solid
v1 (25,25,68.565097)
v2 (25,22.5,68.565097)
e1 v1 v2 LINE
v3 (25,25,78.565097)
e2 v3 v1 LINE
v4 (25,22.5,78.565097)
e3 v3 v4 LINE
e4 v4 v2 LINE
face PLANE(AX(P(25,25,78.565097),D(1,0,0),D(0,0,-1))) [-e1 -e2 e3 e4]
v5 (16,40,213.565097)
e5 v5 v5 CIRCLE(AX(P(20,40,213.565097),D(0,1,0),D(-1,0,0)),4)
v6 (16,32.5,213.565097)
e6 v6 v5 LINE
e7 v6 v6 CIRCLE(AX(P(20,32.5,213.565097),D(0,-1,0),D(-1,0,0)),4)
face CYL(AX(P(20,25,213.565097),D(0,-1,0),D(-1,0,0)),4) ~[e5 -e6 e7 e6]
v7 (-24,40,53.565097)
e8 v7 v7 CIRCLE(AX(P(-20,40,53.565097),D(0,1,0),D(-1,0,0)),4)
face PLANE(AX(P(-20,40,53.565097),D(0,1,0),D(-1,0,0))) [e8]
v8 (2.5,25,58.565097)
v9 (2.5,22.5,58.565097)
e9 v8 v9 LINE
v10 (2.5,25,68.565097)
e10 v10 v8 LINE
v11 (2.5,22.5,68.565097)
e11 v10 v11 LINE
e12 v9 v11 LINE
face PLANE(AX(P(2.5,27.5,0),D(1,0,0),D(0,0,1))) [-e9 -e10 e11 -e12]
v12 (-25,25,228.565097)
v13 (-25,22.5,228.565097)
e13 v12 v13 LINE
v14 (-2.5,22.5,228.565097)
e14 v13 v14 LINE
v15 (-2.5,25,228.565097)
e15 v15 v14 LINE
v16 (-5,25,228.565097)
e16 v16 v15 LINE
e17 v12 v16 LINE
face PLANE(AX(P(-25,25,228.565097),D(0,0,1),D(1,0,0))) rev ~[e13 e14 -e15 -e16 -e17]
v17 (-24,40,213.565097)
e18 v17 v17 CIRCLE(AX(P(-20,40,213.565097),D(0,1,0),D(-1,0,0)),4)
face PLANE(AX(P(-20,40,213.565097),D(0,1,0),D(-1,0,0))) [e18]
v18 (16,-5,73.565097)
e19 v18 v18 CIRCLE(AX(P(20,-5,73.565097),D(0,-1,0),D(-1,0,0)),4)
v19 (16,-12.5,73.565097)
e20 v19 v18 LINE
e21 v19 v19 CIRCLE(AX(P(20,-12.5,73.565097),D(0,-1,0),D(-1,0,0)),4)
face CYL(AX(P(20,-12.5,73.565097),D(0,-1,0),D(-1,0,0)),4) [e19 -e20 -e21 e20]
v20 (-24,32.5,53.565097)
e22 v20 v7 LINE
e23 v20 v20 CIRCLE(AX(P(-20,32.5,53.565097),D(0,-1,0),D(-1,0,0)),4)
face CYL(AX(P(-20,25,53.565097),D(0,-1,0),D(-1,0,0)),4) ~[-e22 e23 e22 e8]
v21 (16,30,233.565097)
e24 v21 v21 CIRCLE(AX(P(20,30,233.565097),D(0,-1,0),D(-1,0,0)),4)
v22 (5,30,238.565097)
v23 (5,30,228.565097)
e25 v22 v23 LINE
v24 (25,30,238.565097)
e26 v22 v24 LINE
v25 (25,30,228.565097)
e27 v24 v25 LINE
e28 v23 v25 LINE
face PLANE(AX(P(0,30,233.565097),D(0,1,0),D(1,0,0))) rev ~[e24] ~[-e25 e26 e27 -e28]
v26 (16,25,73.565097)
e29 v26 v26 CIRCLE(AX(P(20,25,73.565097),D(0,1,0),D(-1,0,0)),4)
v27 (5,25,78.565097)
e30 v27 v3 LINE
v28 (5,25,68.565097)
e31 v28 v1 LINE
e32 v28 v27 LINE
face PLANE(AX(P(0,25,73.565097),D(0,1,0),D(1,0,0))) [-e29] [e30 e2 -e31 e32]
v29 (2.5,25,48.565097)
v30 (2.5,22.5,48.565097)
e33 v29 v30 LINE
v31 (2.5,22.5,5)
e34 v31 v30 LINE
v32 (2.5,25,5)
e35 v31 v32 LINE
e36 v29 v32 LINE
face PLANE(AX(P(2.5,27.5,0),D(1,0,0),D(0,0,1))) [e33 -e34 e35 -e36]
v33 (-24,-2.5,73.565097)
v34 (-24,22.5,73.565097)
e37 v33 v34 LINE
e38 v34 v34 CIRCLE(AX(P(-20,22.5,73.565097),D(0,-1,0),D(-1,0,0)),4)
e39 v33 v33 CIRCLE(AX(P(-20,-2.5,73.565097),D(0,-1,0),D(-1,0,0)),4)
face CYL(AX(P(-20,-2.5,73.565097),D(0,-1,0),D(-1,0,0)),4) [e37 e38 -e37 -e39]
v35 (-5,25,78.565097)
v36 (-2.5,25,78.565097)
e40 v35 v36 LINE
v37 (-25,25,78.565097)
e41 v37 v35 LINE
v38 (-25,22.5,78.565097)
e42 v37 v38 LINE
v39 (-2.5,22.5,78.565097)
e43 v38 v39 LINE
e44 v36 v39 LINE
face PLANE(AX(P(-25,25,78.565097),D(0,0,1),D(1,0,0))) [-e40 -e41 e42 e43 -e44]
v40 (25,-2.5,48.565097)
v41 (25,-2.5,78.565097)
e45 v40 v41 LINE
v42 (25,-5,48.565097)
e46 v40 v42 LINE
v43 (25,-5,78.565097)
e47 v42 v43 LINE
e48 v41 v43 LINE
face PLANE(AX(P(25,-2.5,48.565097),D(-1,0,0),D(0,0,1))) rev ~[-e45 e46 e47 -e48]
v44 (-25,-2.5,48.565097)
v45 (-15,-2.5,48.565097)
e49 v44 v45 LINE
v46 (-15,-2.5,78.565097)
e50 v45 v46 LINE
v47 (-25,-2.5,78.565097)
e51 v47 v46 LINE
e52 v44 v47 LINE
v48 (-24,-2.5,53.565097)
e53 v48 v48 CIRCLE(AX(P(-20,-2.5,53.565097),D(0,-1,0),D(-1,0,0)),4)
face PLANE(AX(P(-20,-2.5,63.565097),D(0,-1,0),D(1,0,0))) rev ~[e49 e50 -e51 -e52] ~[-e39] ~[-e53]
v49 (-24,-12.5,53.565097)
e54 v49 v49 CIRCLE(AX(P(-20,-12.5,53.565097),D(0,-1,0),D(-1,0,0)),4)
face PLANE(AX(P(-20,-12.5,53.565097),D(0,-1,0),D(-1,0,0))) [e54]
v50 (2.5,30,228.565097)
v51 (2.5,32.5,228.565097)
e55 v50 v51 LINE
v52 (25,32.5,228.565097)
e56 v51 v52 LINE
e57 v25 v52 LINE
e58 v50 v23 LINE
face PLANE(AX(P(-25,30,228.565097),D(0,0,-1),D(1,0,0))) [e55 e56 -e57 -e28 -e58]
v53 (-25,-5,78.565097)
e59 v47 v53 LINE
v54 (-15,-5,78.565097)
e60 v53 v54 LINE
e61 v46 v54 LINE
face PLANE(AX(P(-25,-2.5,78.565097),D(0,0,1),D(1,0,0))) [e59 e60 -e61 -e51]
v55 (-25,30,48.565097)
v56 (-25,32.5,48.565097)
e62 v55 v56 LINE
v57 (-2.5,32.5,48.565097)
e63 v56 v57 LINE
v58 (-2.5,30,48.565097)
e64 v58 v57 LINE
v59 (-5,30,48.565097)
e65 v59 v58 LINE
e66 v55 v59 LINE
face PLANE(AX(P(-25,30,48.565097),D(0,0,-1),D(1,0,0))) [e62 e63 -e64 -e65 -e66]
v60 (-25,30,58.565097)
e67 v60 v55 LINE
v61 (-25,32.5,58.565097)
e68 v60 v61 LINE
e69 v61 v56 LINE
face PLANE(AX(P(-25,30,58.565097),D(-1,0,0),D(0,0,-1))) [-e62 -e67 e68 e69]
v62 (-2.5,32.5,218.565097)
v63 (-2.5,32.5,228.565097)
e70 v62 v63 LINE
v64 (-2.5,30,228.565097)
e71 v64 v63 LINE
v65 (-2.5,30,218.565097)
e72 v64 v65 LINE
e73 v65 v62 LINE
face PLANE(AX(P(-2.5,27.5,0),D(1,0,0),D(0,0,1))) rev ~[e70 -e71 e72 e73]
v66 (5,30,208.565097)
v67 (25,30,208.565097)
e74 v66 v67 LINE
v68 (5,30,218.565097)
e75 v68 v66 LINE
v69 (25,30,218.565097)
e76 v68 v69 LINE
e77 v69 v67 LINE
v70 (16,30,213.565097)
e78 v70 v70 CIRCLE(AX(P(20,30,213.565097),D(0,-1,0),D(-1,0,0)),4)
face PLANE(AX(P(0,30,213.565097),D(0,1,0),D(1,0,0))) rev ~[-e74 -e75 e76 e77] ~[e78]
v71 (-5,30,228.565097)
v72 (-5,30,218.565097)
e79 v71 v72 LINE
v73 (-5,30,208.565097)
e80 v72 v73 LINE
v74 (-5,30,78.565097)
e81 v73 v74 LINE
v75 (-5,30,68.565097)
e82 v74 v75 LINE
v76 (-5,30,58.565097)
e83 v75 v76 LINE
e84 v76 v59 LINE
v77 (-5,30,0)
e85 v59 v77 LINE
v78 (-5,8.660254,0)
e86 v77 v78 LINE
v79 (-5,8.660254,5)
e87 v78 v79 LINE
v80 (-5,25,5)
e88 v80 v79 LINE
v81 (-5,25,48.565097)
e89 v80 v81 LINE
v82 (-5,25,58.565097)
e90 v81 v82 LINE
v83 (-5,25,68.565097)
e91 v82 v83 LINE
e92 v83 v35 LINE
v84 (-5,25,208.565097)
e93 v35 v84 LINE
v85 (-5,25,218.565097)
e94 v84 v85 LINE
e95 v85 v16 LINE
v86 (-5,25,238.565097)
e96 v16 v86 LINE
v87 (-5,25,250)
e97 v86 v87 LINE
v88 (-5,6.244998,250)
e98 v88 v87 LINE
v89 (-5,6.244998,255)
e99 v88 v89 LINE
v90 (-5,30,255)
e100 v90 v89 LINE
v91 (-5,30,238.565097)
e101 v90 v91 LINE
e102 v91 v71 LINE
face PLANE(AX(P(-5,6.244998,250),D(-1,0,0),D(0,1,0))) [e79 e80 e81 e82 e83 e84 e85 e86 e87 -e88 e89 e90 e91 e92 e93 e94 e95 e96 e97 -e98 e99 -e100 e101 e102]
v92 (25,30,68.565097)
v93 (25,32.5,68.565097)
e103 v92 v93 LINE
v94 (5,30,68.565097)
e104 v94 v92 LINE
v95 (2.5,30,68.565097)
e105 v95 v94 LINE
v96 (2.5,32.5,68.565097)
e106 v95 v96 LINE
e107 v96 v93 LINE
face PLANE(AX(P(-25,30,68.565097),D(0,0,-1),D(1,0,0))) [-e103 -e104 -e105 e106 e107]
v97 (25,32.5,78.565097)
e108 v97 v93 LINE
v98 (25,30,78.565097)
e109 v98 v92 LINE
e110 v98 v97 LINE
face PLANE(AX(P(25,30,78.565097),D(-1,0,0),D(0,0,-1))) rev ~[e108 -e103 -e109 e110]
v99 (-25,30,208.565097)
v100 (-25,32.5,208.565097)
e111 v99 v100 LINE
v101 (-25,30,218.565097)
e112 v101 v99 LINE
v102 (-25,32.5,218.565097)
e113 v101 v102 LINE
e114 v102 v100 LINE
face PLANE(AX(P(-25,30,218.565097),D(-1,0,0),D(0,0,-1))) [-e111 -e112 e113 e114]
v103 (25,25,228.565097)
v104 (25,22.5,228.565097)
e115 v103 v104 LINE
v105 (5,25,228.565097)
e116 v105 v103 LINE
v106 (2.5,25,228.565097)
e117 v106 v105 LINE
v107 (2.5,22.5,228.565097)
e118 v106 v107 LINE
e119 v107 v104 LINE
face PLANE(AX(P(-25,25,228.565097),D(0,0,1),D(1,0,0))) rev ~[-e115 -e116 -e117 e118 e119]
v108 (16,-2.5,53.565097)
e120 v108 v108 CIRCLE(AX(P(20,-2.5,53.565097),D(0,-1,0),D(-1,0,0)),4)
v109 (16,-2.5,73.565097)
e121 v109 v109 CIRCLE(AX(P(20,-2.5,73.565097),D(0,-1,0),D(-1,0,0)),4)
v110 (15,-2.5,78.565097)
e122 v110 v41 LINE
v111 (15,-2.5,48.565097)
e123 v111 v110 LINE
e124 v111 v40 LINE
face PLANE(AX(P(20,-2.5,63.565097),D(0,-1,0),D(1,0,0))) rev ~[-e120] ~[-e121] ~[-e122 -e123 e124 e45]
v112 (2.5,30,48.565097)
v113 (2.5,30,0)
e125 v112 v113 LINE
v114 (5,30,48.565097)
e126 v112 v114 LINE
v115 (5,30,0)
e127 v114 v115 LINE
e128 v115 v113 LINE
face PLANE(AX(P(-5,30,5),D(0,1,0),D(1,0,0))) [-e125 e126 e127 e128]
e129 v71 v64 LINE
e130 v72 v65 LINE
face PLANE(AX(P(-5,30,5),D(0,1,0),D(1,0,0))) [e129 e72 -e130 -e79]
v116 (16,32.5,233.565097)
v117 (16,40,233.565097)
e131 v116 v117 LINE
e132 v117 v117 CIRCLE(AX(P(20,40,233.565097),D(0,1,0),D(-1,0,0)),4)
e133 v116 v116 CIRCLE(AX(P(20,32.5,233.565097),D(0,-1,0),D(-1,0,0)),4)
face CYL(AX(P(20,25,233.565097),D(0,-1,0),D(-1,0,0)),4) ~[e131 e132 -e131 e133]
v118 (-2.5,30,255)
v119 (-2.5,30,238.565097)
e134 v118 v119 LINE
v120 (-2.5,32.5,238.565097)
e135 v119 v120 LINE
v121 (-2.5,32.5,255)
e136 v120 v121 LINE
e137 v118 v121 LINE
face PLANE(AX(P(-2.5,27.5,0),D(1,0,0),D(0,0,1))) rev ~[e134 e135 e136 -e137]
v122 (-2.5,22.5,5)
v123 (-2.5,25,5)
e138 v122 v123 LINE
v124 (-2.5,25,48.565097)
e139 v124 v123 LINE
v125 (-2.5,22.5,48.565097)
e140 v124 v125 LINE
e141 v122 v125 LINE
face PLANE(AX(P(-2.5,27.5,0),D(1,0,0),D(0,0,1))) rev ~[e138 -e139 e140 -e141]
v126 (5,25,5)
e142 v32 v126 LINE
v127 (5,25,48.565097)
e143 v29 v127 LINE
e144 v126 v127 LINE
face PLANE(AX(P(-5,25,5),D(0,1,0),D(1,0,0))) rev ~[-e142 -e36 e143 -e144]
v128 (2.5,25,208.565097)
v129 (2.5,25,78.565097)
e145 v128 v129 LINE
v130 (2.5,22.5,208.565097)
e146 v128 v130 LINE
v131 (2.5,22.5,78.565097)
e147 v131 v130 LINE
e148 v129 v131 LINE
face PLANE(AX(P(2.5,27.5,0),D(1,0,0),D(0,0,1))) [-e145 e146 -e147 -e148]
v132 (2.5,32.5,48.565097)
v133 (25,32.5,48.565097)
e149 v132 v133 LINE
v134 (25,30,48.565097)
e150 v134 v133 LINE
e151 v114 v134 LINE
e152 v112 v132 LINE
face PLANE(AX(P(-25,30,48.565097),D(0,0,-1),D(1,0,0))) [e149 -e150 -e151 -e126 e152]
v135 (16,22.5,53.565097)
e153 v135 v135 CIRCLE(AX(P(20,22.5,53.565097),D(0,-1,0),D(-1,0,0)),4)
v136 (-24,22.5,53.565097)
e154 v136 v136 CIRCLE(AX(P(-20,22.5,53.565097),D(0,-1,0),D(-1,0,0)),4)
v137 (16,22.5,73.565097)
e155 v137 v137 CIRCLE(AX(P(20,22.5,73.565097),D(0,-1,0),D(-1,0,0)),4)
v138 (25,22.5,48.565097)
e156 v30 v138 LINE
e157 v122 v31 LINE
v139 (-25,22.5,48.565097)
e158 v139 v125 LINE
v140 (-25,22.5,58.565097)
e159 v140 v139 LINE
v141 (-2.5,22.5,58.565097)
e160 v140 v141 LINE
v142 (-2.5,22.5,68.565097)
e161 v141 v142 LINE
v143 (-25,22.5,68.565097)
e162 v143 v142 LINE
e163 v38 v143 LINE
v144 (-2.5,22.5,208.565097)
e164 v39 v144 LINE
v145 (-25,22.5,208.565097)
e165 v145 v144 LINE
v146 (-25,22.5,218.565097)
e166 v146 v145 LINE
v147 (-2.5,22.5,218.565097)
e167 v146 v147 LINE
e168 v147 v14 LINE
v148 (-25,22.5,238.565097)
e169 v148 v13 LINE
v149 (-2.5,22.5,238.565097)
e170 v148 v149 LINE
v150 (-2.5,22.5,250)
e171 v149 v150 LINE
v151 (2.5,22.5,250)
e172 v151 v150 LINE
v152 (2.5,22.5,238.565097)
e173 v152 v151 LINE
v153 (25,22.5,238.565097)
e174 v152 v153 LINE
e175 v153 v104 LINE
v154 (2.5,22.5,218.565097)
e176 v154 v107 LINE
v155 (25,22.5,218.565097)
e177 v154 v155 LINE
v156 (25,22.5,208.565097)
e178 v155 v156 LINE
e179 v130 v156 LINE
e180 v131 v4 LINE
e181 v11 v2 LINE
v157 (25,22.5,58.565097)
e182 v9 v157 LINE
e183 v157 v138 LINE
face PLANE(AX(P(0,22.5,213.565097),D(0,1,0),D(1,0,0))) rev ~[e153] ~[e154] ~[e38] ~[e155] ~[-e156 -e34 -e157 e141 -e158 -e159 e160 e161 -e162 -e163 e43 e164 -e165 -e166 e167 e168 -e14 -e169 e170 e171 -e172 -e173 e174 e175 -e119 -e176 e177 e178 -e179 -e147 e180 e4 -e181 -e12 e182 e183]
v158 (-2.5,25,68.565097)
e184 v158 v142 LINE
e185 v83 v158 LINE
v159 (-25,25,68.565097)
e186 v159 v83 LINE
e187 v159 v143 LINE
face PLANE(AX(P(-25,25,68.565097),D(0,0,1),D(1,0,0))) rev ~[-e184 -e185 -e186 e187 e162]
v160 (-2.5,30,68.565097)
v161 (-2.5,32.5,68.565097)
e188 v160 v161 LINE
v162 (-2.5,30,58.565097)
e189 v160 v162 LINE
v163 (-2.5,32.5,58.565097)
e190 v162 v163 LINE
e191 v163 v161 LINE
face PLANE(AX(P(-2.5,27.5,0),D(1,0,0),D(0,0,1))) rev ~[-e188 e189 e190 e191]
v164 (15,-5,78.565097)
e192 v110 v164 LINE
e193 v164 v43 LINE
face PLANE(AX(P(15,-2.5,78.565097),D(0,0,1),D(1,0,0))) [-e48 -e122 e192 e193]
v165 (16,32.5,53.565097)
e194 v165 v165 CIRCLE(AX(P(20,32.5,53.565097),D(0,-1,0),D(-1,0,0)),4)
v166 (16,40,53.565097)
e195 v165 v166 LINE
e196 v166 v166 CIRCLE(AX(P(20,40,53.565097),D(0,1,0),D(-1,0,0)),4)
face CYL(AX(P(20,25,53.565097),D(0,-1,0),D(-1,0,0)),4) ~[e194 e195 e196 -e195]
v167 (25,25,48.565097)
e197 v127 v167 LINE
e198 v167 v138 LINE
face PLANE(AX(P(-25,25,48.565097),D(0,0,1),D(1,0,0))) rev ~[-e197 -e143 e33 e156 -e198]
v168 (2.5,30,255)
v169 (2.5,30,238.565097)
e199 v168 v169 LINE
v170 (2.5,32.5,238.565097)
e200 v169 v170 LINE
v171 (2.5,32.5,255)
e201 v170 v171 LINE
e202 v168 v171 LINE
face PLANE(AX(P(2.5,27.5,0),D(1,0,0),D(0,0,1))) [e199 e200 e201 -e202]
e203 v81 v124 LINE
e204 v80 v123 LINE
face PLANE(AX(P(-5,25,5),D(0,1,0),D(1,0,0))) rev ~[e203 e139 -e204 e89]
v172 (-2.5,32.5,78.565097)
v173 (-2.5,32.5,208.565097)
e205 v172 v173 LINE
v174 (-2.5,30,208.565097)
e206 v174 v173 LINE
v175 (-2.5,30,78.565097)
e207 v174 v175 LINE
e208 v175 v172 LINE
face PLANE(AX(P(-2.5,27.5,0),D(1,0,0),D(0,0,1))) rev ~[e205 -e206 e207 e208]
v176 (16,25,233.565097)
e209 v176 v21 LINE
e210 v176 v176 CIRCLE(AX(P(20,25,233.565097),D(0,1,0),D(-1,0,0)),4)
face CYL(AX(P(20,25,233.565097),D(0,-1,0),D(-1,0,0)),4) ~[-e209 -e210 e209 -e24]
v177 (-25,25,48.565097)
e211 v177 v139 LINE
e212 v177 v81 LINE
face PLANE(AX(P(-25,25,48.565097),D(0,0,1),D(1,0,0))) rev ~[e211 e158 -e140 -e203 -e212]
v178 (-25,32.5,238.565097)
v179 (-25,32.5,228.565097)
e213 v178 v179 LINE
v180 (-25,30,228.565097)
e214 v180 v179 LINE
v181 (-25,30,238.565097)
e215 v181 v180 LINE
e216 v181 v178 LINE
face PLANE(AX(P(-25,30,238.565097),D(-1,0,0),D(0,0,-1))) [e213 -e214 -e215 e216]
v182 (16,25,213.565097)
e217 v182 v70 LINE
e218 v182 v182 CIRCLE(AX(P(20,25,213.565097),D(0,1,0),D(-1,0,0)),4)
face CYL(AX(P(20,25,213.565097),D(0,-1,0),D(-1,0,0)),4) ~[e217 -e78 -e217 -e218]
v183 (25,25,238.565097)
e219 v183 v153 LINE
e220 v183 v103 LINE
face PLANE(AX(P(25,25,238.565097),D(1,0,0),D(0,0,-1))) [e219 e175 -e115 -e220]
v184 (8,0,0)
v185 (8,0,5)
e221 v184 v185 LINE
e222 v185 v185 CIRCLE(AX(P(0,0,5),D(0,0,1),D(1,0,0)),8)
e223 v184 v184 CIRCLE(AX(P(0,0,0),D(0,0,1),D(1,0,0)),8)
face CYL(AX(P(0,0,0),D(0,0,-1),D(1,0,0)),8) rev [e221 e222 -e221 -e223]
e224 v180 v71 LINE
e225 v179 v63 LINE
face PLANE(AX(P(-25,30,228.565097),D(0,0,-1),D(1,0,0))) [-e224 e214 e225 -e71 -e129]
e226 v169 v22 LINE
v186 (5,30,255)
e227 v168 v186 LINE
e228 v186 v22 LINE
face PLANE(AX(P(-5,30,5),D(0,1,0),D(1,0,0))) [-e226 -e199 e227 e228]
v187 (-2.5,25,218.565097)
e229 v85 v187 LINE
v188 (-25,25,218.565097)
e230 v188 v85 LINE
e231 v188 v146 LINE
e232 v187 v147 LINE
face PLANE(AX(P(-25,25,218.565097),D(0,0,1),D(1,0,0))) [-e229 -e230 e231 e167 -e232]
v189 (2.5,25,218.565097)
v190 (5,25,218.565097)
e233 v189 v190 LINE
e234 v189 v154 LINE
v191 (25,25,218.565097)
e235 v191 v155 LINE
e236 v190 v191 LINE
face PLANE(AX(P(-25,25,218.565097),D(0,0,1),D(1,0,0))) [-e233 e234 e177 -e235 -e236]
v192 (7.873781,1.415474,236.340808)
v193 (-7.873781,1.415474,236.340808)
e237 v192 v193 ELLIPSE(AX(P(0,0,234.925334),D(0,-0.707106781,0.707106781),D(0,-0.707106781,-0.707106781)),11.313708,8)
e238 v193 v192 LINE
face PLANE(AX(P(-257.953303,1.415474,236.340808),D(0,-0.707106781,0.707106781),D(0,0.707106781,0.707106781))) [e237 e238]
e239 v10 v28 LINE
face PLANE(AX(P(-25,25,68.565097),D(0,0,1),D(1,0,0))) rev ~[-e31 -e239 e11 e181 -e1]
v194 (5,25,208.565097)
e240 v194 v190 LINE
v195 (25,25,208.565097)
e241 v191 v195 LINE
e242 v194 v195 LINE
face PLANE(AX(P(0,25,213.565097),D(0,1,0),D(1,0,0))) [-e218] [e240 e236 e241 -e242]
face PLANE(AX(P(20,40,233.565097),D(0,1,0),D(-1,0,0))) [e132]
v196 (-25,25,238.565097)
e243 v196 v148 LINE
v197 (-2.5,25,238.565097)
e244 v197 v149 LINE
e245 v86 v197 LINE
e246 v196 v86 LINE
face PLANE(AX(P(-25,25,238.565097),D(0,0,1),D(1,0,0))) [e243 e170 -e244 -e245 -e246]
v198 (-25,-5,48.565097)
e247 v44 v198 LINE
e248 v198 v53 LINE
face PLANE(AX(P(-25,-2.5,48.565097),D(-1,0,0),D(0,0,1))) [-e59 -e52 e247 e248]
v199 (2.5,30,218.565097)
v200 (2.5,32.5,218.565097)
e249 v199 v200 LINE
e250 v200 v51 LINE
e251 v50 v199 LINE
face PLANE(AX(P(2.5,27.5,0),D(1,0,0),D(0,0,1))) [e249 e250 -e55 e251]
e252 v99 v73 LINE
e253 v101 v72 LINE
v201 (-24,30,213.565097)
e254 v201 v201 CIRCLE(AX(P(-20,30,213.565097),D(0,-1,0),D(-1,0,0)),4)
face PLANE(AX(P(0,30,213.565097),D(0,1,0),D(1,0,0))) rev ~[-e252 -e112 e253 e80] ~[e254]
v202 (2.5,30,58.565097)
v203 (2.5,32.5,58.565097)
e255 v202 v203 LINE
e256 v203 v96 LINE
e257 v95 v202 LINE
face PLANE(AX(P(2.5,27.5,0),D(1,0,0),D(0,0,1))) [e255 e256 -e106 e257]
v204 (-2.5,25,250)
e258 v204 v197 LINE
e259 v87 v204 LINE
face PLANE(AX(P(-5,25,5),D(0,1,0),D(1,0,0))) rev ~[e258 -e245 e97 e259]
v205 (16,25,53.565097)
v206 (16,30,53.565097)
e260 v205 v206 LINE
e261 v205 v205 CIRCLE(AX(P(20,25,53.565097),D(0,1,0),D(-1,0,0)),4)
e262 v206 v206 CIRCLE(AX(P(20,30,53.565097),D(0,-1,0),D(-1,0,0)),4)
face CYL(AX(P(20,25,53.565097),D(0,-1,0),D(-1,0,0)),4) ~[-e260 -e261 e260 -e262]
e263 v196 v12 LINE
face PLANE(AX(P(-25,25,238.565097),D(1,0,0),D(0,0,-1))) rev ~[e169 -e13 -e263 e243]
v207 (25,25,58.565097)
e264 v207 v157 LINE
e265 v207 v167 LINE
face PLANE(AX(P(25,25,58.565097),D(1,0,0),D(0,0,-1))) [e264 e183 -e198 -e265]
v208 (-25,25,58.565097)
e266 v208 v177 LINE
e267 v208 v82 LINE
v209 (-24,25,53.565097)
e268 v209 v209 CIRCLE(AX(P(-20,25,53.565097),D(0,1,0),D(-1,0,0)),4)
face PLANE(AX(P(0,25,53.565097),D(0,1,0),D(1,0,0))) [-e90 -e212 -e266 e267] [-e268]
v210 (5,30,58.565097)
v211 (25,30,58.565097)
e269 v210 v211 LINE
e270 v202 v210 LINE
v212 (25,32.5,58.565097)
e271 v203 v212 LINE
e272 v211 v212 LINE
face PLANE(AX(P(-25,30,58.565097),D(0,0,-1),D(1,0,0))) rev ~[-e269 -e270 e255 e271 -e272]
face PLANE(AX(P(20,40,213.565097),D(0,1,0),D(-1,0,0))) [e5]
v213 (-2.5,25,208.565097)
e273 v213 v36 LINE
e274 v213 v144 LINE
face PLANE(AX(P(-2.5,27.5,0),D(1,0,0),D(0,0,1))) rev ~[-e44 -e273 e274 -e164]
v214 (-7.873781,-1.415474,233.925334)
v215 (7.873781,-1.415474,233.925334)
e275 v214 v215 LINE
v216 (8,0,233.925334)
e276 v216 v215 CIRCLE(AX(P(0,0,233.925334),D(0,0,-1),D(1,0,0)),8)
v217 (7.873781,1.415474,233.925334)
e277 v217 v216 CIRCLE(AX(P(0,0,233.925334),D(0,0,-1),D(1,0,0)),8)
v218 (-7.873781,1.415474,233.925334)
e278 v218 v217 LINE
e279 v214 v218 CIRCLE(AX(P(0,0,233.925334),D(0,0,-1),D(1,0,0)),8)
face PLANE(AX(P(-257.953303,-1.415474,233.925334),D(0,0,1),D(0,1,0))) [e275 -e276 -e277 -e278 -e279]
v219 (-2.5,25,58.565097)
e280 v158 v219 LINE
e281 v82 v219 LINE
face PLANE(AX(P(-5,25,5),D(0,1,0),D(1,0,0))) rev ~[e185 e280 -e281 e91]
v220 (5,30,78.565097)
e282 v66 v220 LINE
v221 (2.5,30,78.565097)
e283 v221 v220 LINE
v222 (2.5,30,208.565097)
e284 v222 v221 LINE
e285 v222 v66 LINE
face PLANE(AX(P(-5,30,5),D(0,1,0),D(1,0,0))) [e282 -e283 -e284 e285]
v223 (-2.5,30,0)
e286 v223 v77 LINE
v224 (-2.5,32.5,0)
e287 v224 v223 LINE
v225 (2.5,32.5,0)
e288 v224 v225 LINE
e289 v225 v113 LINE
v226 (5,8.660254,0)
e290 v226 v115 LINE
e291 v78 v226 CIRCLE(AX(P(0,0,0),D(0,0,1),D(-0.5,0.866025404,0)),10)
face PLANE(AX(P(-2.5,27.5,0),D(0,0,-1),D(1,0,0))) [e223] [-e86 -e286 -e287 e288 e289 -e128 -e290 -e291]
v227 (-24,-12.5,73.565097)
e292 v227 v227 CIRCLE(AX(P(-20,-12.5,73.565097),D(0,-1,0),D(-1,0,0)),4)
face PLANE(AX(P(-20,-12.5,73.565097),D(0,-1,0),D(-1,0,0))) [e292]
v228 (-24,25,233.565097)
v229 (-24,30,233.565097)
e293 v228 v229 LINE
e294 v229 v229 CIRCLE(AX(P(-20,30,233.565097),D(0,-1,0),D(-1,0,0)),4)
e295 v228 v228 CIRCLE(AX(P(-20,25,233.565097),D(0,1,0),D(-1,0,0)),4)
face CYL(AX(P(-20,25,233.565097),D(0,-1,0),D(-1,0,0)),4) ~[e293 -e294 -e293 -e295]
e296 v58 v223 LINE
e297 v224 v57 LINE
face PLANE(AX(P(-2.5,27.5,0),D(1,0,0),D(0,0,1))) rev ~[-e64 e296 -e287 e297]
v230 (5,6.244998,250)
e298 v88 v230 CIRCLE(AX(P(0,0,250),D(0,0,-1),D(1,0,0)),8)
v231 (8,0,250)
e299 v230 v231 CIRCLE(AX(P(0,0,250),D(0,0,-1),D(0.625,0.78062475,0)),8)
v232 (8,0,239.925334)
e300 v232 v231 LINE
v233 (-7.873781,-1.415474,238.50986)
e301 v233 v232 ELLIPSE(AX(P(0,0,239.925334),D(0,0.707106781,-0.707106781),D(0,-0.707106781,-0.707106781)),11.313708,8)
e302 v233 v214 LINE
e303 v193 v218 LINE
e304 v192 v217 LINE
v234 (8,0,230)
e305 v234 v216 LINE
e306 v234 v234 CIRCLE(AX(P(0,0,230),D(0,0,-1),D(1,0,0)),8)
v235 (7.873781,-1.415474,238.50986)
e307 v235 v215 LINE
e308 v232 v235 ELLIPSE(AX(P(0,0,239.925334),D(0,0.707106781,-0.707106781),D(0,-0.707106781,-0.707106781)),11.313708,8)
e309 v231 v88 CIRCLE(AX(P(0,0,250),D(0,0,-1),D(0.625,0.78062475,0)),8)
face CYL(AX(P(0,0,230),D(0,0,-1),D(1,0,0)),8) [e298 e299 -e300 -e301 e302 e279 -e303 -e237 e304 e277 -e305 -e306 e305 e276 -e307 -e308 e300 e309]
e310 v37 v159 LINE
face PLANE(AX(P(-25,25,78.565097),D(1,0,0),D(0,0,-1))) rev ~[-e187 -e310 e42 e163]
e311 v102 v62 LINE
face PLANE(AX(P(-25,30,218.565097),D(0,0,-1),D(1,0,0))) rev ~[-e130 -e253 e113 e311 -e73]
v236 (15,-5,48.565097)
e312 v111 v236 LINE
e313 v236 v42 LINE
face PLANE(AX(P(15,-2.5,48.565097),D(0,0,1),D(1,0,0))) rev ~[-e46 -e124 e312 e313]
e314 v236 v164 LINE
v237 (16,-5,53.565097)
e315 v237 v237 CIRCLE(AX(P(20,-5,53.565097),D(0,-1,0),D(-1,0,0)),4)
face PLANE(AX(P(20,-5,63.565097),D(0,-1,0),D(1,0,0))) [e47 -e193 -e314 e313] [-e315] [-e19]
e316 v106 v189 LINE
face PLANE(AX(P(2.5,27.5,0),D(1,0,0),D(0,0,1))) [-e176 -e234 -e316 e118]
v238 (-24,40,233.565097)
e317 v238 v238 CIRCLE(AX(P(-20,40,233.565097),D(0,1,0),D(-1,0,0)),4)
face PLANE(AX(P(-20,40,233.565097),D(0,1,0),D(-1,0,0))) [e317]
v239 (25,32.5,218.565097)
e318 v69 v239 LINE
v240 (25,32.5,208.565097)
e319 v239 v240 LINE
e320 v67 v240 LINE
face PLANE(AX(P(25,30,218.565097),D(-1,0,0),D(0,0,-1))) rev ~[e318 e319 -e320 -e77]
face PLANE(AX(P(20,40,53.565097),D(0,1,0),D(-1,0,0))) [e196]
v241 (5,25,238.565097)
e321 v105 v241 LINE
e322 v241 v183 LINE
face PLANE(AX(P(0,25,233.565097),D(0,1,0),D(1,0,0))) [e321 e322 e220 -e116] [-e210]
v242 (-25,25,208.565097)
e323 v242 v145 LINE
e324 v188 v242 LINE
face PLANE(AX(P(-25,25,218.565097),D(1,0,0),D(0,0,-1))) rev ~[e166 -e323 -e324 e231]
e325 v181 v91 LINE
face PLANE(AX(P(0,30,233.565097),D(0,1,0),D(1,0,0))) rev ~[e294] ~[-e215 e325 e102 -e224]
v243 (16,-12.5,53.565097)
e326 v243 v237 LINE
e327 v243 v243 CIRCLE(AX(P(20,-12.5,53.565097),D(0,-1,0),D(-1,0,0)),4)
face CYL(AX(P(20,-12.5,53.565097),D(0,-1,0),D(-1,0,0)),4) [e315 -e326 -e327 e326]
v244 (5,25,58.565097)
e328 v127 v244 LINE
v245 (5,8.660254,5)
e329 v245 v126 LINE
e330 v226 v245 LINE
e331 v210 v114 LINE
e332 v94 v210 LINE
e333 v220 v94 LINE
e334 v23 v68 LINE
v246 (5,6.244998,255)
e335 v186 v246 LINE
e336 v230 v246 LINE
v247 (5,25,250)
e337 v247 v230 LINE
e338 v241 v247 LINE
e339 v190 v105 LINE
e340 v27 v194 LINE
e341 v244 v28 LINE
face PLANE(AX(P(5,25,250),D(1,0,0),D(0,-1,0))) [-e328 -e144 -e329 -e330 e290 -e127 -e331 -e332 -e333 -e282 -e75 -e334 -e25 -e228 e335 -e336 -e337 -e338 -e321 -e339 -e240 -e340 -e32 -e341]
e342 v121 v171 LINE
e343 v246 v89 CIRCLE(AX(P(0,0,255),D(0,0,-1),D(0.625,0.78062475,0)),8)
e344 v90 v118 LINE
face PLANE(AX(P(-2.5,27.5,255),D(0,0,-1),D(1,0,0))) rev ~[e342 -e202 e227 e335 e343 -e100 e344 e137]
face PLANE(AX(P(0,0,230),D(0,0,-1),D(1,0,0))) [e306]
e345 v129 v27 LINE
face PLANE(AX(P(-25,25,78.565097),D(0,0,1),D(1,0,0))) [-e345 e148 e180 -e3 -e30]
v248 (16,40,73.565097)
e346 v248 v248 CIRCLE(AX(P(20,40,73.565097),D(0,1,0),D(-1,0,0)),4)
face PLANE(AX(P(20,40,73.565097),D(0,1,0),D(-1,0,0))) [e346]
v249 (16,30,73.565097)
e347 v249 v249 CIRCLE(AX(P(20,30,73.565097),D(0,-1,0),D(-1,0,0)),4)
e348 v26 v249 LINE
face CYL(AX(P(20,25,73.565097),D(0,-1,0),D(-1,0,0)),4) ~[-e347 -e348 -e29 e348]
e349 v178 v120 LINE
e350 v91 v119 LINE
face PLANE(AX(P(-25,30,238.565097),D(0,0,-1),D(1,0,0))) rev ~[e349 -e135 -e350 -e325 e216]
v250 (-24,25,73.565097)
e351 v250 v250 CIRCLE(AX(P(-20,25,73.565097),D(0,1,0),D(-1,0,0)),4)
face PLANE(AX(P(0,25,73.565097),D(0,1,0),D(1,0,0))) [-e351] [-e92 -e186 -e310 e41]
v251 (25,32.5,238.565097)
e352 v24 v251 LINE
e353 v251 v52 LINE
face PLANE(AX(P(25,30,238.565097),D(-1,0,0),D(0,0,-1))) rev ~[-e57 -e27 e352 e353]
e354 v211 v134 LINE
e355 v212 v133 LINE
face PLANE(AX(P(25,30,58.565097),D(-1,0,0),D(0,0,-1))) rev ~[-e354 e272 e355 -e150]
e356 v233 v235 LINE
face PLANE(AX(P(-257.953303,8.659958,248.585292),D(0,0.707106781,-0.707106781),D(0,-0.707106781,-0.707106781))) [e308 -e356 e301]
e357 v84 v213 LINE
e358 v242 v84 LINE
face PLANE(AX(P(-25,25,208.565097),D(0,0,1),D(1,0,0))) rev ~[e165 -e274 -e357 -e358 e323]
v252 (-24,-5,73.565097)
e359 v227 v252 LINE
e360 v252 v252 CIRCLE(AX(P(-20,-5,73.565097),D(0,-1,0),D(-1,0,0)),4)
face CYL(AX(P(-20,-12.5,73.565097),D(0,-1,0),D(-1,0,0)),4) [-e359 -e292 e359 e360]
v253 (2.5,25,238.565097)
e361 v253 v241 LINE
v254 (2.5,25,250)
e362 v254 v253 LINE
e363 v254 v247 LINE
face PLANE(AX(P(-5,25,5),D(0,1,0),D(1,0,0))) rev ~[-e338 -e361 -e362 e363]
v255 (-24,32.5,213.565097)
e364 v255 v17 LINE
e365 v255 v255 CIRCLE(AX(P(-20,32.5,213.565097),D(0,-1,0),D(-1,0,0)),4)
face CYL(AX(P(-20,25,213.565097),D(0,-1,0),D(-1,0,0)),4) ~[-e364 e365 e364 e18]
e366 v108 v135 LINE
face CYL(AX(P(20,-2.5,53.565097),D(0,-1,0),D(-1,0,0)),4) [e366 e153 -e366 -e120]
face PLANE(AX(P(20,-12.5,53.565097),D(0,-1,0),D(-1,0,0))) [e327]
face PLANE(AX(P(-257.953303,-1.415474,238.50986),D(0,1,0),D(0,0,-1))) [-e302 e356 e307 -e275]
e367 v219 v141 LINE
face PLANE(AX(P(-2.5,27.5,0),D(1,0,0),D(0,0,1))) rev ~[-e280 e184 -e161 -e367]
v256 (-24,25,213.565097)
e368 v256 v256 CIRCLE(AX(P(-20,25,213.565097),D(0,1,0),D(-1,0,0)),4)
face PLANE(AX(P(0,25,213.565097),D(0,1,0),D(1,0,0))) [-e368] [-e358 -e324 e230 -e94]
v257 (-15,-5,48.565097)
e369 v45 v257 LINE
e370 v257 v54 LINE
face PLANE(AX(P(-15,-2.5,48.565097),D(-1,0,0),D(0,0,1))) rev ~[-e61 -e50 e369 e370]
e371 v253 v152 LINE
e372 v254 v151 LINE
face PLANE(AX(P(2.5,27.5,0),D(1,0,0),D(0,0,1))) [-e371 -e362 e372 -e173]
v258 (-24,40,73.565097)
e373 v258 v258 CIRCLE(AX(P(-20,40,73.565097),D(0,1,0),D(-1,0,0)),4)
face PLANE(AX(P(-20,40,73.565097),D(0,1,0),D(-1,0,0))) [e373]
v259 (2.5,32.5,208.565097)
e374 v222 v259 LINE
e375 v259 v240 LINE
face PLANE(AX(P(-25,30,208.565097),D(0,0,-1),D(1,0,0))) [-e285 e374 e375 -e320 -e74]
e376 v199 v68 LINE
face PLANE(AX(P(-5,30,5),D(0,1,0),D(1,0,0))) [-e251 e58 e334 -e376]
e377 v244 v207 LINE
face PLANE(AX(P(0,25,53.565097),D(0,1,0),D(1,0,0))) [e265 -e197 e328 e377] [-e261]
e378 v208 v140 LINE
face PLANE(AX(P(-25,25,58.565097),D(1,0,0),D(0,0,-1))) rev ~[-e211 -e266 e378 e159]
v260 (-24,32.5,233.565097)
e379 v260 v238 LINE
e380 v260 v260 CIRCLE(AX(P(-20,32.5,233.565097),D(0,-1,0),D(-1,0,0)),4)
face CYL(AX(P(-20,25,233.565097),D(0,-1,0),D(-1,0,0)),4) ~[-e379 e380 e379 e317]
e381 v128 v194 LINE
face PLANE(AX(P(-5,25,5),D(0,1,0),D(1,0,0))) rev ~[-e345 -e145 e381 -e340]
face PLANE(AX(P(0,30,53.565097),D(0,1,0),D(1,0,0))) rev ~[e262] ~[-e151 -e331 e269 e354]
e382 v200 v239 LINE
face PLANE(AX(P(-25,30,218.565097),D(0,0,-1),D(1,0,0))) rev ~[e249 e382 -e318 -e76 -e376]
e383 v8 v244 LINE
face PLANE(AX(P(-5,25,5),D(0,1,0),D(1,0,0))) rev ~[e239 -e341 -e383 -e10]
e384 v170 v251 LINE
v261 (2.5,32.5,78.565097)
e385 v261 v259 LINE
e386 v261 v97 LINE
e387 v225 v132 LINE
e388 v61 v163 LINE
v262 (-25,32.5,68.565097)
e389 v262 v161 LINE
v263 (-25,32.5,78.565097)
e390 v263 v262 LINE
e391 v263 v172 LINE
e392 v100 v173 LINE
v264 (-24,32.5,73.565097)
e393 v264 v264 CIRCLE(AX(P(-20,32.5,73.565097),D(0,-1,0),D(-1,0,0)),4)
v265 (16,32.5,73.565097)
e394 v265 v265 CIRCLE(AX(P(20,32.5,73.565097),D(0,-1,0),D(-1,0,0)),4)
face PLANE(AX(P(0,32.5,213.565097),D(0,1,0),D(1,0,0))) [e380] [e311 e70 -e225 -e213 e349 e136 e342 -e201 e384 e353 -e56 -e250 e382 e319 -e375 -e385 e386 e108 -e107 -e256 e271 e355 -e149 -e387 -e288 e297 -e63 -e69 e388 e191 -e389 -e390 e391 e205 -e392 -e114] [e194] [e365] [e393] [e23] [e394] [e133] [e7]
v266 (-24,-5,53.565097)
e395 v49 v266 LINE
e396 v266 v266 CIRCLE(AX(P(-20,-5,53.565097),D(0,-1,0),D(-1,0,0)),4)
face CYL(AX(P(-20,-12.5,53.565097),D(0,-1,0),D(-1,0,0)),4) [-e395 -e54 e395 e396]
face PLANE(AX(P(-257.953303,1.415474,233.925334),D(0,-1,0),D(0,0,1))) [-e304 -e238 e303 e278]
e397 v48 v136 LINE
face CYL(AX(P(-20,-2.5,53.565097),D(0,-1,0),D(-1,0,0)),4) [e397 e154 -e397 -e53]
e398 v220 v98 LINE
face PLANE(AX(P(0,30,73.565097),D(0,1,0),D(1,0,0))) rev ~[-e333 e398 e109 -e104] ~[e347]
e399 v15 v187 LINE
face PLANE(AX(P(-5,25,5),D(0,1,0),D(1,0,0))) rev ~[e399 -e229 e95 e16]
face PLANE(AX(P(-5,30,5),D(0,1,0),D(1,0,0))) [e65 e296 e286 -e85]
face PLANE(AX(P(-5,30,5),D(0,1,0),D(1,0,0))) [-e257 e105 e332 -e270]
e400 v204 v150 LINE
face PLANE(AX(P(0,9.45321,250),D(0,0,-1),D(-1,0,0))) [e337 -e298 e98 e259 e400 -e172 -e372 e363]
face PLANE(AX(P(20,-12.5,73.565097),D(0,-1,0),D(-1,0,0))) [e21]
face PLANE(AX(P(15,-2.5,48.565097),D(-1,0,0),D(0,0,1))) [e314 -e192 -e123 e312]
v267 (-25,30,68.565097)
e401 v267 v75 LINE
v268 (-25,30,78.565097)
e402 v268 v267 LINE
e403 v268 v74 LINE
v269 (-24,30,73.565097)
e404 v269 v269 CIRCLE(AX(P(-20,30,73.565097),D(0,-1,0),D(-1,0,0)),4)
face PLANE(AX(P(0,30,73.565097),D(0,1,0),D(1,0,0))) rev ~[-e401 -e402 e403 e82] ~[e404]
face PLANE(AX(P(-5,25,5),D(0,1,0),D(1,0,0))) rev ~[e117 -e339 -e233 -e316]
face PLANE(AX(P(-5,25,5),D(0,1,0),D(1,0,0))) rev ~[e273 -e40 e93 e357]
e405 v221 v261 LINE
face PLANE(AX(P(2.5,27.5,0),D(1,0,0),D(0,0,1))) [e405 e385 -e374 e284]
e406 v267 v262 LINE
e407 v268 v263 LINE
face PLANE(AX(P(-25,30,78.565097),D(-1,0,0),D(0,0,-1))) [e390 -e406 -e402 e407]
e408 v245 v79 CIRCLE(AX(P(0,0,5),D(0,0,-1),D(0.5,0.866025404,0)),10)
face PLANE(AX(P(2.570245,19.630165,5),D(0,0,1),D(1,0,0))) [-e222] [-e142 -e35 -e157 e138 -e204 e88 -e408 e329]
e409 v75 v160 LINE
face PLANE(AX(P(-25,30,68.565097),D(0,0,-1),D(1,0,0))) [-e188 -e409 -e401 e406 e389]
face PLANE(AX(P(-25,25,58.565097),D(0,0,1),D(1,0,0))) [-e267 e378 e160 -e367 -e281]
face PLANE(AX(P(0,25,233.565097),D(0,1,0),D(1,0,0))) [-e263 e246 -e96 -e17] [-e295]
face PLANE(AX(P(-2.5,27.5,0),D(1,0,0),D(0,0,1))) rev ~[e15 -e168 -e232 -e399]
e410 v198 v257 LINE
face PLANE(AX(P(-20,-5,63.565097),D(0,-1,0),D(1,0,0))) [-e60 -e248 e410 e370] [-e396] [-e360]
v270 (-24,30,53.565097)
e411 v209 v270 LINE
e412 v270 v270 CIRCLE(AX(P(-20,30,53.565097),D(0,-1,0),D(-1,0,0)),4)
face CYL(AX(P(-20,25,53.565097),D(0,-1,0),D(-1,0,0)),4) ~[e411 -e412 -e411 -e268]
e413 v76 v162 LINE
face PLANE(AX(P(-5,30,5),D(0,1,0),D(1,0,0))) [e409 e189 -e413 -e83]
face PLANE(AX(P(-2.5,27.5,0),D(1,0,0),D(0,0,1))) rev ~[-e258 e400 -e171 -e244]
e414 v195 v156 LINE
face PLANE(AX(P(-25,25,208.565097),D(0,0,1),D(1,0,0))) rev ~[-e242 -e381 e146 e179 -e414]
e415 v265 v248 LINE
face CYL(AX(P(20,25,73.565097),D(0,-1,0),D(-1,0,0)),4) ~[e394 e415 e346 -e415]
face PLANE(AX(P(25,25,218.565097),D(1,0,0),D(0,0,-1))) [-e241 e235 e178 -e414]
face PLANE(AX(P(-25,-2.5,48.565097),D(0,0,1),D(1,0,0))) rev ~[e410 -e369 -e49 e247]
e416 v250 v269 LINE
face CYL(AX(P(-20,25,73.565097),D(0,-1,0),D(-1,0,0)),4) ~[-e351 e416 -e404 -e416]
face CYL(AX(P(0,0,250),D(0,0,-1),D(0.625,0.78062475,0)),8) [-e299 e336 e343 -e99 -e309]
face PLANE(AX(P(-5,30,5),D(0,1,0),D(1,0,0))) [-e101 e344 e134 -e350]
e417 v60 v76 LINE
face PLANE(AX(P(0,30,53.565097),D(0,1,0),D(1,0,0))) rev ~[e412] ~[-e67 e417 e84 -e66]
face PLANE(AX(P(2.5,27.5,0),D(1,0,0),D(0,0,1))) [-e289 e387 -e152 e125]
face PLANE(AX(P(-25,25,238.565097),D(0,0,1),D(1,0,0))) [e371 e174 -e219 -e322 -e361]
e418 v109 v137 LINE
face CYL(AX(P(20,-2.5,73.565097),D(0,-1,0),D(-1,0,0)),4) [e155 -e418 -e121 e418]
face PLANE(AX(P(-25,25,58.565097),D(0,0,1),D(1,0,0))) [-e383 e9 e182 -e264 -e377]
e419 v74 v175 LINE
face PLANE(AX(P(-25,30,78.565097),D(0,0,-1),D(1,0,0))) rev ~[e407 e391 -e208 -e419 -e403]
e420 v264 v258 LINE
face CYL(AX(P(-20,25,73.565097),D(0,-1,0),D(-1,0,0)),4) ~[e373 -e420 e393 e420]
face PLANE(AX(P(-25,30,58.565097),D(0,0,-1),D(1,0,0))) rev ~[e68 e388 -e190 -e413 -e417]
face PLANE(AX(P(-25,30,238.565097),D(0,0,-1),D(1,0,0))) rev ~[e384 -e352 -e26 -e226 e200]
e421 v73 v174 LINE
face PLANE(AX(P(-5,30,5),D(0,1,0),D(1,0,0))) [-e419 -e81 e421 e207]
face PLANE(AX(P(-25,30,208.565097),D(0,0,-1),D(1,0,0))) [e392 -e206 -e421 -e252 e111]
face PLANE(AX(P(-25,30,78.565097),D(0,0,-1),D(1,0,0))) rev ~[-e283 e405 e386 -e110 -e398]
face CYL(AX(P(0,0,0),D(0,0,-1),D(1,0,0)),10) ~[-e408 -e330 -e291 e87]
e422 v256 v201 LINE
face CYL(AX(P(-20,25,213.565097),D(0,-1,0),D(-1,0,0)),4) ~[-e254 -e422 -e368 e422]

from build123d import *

# Parameters (mm, degrees)
SKETCH1_R                 = 10
SKETCH1_R_2               = 8
BOSS_EXTRUDE1_DEPTH       = 5
SKETCH2_W                 = 10
SKETCH2_H                 = 5
BOSS_EXTRUDE2_DEPTH       = 250
BOSS_EXTRUDE3_START       = -5
BOSS_EXTRUDE3_DEPTH       = 5
BOSS_EXTRUDE4_START       = 20
SKETCH5_R                 = 8
BOSS_EXTRUDE4_DEPTH       = 20
CUT_EXTRUDE1_DEPTH        = 257.953303151
CUT_EXTRUDE1_DEPTH_BACK   = 257.953303151
BOSS_EXTRUDE5_START       = -2.5
SKETCH7_W                 = 5
SKETCH7_H                 = 255
BOSS_EXTRUDE5_DEPTH       = 5
SKETCH9_W                 = 50
SKETCH9_H                 = 10
BOSS_EXTRUDE6_DEPTH       = 2.5
BOSS_EXTRUDE7_START       = -5
SKETCH9_2_W               = 50
SKETCH9_2_H               = 10
BOSS_EXTRUDE7_DEPTH       = 2.5
SKETCH10_R                = 4
BOSS_EXTRUDE8_DEPTH       = 15
LPATTERN1_COUNT           = 2
LPATTERN1_PITCH           = 160
LPATTERN2_COUNT           = 2
LPATTERN2_PITCH           = 20
LPATTERN3_COPY_1_SKETCH_W = 50
LPATTERN3_COPY_1_SKETCH_H = 10
LPATTERN3_COPY_1_DEPTH    = 2.5
LPATTERN3_START           = -5
LPATTERN3_COPY_2_SKETCH_W = 50
LPATTERN3_COPY_2_SKETCH_H = 10
LPATTERN3_COPY_2_DEPTH    = 2.5
LPATTERN3_COPY_3_SKETCH_R = 4
LPATTERN3_COPY_3_DEPTH    = 15
LPATTERN3_COPY_4_SKETCH_W = 50
LPATTERN3_COPY_4_SKETCH_H = 10
LPATTERN3_COPY_4_DEPTH    = 2.5
LPATTERN3_COPY_5_SKETCH_W = 50
LPATTERN3_COPY_5_SKETCH_H = 10
LPATTERN3_COPY_5_DEPTH    = 2.5
LPATTERN3_COPY_6_SKETCH_R = 4
LPATTERN3_COPY_6_DEPTH    = 15
BOSS_EXTRUDE9_START       = 25
SKETCH11_R                = 4
BOSS_EXTRUDE9_DEPTH       = 25
SKETCH12_W                = 10
SKETCH12_H                = 30
BOSS_EXTRUDE10_DEPTH      = 2.5
BOSS_EXTRUDE11_START      = 35
SKETCH11_2_R              = 4
BOSS_EXTRUDE11_DEPTH      = 7.5


with BuildPart() as part:
    # Sketch1 → Boss-Extrude1 (new body)
    # profile 1 of 3: a face of its own
    with BuildSketch(Plane.XY):
        Circle(SKETCH1_R)
        Circle(SKETCH1_R_2, mode=Mode.SUBTRACT)
    # profile 2 of 3: a face of its own
    with BuildSketch(Plane.XY):
        with BuildLine():
            ThreePointArc((-5, 8.660254038), (-2.588190451, 9.659258263), (0, 10))
            Line((0, 10), (0, 30))
            Line((0, 30), (-5, 30))
            Line((-5, 30), (-5, 8.660254038))
        make_face()
    # profile 3 of 3: a face of its own
    with BuildSketch(Plane.XY):
        with BuildLine():
            Line((0, 30), (0, 10))
            ThreePointArc((0, 10), (2.588190451, 9.659258263), (5, 8.660254038))
            Line((5, 8.660254038), (5, 30))
            Line((5, 30), (0, 30))
        make_face()
    extrude(amount=BOSS_EXTRUDE1_DEPTH)

    # Sketch2 → Boss-Extrude2 (add)
    with BuildSketch(Plane.XY.offset(5)):
        with Locations((0, 27.5)):
            Rectangle(SKETCH2_W, SKETCH2_H)
    extrude(amount=BOSS_EXTRUDE2_DEPTH)

    # Sketch4 → Boss-Extrude3 (add)
    with BuildSketch(Plane.XY.offset(255).offset(BOSS_EXTRUDE3_START)):
        with BuildLine():
            Line((-5, 25), (5, 25))
            Line((5, 25), (5, 6.244997998))
            ThreePointArc((5, 6.244997998), (0, -8), (-5, 6.244997998))
            Line((-5, 6.244997998), (-5, 25))
        make_face()
    extrude(amount=BOSS_EXTRUDE3_DEPTH)

    # Sketch5 → Boss-Extrude4 (add)
    with BuildSketch(Plane(origin=(0, 0, 250), x_dir=(-1, 0, 0), z_dir=(0, 0, -1)).offset(BOSS_EXTRUDE4_START)):
        with Locations(Location((0, 0, 0), (0, 0, 180))):
            Circle(SKETCH5_R)
    extrude(amount=-BOSS_EXTRUDE4_DEPTH)

    # Sketch6 → Cut-Extrude1 (cut, two sides: drawn at the far end of the back side and taken through both)
    with BuildSketch(Plane(origin=(0, 0, 0), x_dir=(0, 0, -1), z_dir=(1, 0, 0)).offset(-CUT_EXTRUDE1_DEPTH_BACK)):
        Polygon((-243.585291862, 8.659957716), (-248.585291862, 8.659957716), (-239.925334146, 0), (-238.509860061, -1.415474085), (-233.925334146, -1.415474085), (-233.925334146, 1.415474085), (-236.340808231, 1.415474085), align=None)
    extrude(amount=CUT_EXTRUDE1_DEPTH + CUT_EXTRUDE1_DEPTH_BACK, mode=Mode.SUBTRACT)

    # Sketch7 → Boss-Extrude5 (add, symmetric)
    with BuildSketch(Plane.XZ.offset(-25).offset(BOSS_EXTRUDE5_START)):
        with Locations((0, 127.5)):
            Rectangle(SKETCH7_W, SKETCH7_H)
    extrude(amount=BOSS_EXTRUDE5_DEPTH, both=True)

    # Sketch9 → Boss-Extrude6 (add)
    with BuildSketch(Plane(origin=(0, 30, 0), x_dir=(1, 0, 0), z_dir=(0, 1, 0))):
        with Locations((0, -73.565096755)):
            Rectangle(SKETCH9_W, SKETCH9_H)
    boss_extrude6 = extrude(amount=BOSS_EXTRUDE6_DEPTH)

    # Sketch9<2> → Boss-Extrude7 (add)
    with BuildSketch(Plane(origin=(0, 30, 0), x_dir=(1, 0, 0), z_dir=(0, 1, 0)).offset(BOSS_EXTRUDE7_START)):
        with Locations((0, -73.565096755)):
            Rectangle(SKETCH9_2_W, SKETCH9_2_H)
    boss_extrude7 = extrude(amount=-BOSS_EXTRUDE7_DEPTH)

    # Sketch10 → Boss-Extrude8 (add)
    with BuildSketch(Plane(origin=(0, 25, 0), x_dir=(1, 0, 0), z_dir=(0, 1, 0))):
        with Locations(Location((20, -73.565096755, 0), (0, 0, 180))):
            Circle(SKETCH10_R)
        with Locations(Location((-20, -73.565096755, 0), (0, 0, 180))):
            Circle(SKETCH10_R)
    boss_extrude8 = extrude(amount=BOSS_EXTRUDE8_DEPTH)

    # LPattern1: Boss-Extrude6, Boss-Extrude7, Boss-Extrude8 ×2
    with Locations(*[(0, 0, i * LPATTERN1_PITCH) for i in range(1, LPATTERN1_COUNT)]):
        add(boss_extrude6)
        add(boss_extrude7)
        add(boss_extrude8)

    # LPattern2: Boss-Extrude6, Boss-Extrude7, Boss-Extrude8 ×2
    with Locations(*[(0, 0, -i * LPATTERN2_PITCH) for i in range(1, LPATTERN2_COUNT)]):
        add(boss_extrude6)
        add(boss_extrude7)
        add(boss_extrude8)

    # LPattern3 copy 1 sketch → LPattern3 copy 1 (add)
    with BuildSketch(Plane(origin=(0, 30, 140), x_dir=(1, 0, 0), z_dir=(0, 1, 0))):
        with Locations((0, -73.565096755)):
            Rectangle(LPATTERN3_COPY_1_SKETCH_W, LPATTERN3_COPY_1_SKETCH_H)
    extrude(amount=LPATTERN3_COPY_1_DEPTH)

    # LPattern3 copy 2 sketch → LPattern3 copy 2 (add)
    with BuildSketch(Plane(origin=(0, 30, 140), x_dir=(1, 0, 0), z_dir=(0, 1, 0)).offset(LPATTERN3_START)):
        with Locations((0, -73.565096755)):
            Rectangle(LPATTERN3_COPY_2_SKETCH_W, LPATTERN3_COPY_2_SKETCH_H)
    extrude(amount=-LPATTERN3_COPY_2_DEPTH)

    # LPattern3 copy 3 sketch → LPattern3 copy 3 (add)
    with BuildSketch(Plane(origin=(0, 25, 140), x_dir=(1, 0, 0), z_dir=(0, 1, 0))):
        with Locations(Location((20, -73.565096755, 0), (0, 0, 180))):
            Circle(LPATTERN3_COPY_3_SKETCH_R)
        with Locations(Location((-20, -73.565096755, 0), (0, 0, 180))):
            Circle(LPATTERN3_COPY_3_SKETCH_R)
    extrude(amount=LPATTERN3_COPY_3_DEPTH)

    # LPattern3 copy 4 sketch → LPattern3 copy 4 (add)
    with BuildSketch(Plane(origin=(0, 30, -20), x_dir=(1, 0, 0), z_dir=(0, 1, 0))):
        with Locations((0, -73.565096755)):
            Rectangle(LPATTERN3_COPY_4_SKETCH_W, LPATTERN3_COPY_4_SKETCH_H)
    extrude(amount=LPATTERN3_COPY_4_DEPTH)

    # LPattern3 copy 5 sketch → LPattern3 copy 5 (add)
    with BuildSketch(Plane(origin=(0, 30, -20), x_dir=(1, 0, 0), z_dir=(0, 1, 0)).offset(LPATTERN3_START)):
        with Locations((0, -73.565096755)):
            Rectangle(LPATTERN3_COPY_5_SKETCH_W, LPATTERN3_COPY_5_SKETCH_H)
    extrude(amount=-LPATTERN3_COPY_5_DEPTH)

    # LPattern3 copy 6 sketch → LPattern3 copy 6 (add)
    with BuildSketch(Plane(origin=(0, 25, -20), x_dir=(1, 0, 0), z_dir=(0, 1, 0))):
        with Locations(Location((20, -73.565096755, 0), (0, 0, 180))):
            Circle(LPATTERN3_COPY_6_SKETCH_R)
        with Locations(Location((-20, -73.565096755, 0), (0, 0, 180))):
            Circle(LPATTERN3_COPY_6_SKETCH_R)
    extrude(amount=LPATTERN3_COPY_6_DEPTH)

    # Sketch11 → Boss-Extrude9 (add)
    with BuildSketch(Plane.XZ.offset(-22.5).offset(BOSS_EXTRUDE9_START)):
        with Locations(Location((-20, 73.565096755, 0), (0, 0, 180))):
            Circle(SKETCH11_R)
        with Locations(Location((20, 73.565096755, 0), (0, 0, 180))):
            Circle(SKETCH11_R)
        with Locations(Location((20, 53.565096755, 0), (0, 0, 180))):
            Circle(SKETCH11_R)
        with Locations(Location((-20, 53.565096755, 0), (0, 0, 180))):
            Circle(SKETCH11_R)
    extrude(amount=-BOSS_EXTRUDE9_DEPTH)

    # Sketch12 → Boss-Extrude10 (add)
    with BuildSketch(Plane.XZ.offset(2.5)):
        with Locations((20, 63.565096755)):
            Rectangle(SKETCH12_W, SKETCH12_H)
        with Locations((-20, 63.565096755)):
            Rectangle(SKETCH12_W, SKETCH12_H)
    extrude(amount=BOSS_EXTRUDE10_DEPTH)

    # Sketch11<2> → Boss-Extrude11 (add)
    with BuildSketch(Plane.XZ.offset(-22.5).offset(BOSS_EXTRUDE11_START)):
        with Locations(Location((-20, 73.565096755, 0), (0, 0, 180))):
            Circle(SKETCH11_2_R)
        with Locations(Location((20, 73.565096755, 0), (0, 0, 180))):
            Circle(SKETCH11_2_R)
        with Locations(Location((20, 53.565096755, 0), (0, 0, 180))):
            Circle(SKETCH11_2_R)
        with Locations(Location((-20, 53.565096755, 0), (0, 0, 180))):
            Circle(SKETCH11_2_R)
    extrude(amount=-BOSS_EXTRUDE11_DEPTH)


solid = part.part
